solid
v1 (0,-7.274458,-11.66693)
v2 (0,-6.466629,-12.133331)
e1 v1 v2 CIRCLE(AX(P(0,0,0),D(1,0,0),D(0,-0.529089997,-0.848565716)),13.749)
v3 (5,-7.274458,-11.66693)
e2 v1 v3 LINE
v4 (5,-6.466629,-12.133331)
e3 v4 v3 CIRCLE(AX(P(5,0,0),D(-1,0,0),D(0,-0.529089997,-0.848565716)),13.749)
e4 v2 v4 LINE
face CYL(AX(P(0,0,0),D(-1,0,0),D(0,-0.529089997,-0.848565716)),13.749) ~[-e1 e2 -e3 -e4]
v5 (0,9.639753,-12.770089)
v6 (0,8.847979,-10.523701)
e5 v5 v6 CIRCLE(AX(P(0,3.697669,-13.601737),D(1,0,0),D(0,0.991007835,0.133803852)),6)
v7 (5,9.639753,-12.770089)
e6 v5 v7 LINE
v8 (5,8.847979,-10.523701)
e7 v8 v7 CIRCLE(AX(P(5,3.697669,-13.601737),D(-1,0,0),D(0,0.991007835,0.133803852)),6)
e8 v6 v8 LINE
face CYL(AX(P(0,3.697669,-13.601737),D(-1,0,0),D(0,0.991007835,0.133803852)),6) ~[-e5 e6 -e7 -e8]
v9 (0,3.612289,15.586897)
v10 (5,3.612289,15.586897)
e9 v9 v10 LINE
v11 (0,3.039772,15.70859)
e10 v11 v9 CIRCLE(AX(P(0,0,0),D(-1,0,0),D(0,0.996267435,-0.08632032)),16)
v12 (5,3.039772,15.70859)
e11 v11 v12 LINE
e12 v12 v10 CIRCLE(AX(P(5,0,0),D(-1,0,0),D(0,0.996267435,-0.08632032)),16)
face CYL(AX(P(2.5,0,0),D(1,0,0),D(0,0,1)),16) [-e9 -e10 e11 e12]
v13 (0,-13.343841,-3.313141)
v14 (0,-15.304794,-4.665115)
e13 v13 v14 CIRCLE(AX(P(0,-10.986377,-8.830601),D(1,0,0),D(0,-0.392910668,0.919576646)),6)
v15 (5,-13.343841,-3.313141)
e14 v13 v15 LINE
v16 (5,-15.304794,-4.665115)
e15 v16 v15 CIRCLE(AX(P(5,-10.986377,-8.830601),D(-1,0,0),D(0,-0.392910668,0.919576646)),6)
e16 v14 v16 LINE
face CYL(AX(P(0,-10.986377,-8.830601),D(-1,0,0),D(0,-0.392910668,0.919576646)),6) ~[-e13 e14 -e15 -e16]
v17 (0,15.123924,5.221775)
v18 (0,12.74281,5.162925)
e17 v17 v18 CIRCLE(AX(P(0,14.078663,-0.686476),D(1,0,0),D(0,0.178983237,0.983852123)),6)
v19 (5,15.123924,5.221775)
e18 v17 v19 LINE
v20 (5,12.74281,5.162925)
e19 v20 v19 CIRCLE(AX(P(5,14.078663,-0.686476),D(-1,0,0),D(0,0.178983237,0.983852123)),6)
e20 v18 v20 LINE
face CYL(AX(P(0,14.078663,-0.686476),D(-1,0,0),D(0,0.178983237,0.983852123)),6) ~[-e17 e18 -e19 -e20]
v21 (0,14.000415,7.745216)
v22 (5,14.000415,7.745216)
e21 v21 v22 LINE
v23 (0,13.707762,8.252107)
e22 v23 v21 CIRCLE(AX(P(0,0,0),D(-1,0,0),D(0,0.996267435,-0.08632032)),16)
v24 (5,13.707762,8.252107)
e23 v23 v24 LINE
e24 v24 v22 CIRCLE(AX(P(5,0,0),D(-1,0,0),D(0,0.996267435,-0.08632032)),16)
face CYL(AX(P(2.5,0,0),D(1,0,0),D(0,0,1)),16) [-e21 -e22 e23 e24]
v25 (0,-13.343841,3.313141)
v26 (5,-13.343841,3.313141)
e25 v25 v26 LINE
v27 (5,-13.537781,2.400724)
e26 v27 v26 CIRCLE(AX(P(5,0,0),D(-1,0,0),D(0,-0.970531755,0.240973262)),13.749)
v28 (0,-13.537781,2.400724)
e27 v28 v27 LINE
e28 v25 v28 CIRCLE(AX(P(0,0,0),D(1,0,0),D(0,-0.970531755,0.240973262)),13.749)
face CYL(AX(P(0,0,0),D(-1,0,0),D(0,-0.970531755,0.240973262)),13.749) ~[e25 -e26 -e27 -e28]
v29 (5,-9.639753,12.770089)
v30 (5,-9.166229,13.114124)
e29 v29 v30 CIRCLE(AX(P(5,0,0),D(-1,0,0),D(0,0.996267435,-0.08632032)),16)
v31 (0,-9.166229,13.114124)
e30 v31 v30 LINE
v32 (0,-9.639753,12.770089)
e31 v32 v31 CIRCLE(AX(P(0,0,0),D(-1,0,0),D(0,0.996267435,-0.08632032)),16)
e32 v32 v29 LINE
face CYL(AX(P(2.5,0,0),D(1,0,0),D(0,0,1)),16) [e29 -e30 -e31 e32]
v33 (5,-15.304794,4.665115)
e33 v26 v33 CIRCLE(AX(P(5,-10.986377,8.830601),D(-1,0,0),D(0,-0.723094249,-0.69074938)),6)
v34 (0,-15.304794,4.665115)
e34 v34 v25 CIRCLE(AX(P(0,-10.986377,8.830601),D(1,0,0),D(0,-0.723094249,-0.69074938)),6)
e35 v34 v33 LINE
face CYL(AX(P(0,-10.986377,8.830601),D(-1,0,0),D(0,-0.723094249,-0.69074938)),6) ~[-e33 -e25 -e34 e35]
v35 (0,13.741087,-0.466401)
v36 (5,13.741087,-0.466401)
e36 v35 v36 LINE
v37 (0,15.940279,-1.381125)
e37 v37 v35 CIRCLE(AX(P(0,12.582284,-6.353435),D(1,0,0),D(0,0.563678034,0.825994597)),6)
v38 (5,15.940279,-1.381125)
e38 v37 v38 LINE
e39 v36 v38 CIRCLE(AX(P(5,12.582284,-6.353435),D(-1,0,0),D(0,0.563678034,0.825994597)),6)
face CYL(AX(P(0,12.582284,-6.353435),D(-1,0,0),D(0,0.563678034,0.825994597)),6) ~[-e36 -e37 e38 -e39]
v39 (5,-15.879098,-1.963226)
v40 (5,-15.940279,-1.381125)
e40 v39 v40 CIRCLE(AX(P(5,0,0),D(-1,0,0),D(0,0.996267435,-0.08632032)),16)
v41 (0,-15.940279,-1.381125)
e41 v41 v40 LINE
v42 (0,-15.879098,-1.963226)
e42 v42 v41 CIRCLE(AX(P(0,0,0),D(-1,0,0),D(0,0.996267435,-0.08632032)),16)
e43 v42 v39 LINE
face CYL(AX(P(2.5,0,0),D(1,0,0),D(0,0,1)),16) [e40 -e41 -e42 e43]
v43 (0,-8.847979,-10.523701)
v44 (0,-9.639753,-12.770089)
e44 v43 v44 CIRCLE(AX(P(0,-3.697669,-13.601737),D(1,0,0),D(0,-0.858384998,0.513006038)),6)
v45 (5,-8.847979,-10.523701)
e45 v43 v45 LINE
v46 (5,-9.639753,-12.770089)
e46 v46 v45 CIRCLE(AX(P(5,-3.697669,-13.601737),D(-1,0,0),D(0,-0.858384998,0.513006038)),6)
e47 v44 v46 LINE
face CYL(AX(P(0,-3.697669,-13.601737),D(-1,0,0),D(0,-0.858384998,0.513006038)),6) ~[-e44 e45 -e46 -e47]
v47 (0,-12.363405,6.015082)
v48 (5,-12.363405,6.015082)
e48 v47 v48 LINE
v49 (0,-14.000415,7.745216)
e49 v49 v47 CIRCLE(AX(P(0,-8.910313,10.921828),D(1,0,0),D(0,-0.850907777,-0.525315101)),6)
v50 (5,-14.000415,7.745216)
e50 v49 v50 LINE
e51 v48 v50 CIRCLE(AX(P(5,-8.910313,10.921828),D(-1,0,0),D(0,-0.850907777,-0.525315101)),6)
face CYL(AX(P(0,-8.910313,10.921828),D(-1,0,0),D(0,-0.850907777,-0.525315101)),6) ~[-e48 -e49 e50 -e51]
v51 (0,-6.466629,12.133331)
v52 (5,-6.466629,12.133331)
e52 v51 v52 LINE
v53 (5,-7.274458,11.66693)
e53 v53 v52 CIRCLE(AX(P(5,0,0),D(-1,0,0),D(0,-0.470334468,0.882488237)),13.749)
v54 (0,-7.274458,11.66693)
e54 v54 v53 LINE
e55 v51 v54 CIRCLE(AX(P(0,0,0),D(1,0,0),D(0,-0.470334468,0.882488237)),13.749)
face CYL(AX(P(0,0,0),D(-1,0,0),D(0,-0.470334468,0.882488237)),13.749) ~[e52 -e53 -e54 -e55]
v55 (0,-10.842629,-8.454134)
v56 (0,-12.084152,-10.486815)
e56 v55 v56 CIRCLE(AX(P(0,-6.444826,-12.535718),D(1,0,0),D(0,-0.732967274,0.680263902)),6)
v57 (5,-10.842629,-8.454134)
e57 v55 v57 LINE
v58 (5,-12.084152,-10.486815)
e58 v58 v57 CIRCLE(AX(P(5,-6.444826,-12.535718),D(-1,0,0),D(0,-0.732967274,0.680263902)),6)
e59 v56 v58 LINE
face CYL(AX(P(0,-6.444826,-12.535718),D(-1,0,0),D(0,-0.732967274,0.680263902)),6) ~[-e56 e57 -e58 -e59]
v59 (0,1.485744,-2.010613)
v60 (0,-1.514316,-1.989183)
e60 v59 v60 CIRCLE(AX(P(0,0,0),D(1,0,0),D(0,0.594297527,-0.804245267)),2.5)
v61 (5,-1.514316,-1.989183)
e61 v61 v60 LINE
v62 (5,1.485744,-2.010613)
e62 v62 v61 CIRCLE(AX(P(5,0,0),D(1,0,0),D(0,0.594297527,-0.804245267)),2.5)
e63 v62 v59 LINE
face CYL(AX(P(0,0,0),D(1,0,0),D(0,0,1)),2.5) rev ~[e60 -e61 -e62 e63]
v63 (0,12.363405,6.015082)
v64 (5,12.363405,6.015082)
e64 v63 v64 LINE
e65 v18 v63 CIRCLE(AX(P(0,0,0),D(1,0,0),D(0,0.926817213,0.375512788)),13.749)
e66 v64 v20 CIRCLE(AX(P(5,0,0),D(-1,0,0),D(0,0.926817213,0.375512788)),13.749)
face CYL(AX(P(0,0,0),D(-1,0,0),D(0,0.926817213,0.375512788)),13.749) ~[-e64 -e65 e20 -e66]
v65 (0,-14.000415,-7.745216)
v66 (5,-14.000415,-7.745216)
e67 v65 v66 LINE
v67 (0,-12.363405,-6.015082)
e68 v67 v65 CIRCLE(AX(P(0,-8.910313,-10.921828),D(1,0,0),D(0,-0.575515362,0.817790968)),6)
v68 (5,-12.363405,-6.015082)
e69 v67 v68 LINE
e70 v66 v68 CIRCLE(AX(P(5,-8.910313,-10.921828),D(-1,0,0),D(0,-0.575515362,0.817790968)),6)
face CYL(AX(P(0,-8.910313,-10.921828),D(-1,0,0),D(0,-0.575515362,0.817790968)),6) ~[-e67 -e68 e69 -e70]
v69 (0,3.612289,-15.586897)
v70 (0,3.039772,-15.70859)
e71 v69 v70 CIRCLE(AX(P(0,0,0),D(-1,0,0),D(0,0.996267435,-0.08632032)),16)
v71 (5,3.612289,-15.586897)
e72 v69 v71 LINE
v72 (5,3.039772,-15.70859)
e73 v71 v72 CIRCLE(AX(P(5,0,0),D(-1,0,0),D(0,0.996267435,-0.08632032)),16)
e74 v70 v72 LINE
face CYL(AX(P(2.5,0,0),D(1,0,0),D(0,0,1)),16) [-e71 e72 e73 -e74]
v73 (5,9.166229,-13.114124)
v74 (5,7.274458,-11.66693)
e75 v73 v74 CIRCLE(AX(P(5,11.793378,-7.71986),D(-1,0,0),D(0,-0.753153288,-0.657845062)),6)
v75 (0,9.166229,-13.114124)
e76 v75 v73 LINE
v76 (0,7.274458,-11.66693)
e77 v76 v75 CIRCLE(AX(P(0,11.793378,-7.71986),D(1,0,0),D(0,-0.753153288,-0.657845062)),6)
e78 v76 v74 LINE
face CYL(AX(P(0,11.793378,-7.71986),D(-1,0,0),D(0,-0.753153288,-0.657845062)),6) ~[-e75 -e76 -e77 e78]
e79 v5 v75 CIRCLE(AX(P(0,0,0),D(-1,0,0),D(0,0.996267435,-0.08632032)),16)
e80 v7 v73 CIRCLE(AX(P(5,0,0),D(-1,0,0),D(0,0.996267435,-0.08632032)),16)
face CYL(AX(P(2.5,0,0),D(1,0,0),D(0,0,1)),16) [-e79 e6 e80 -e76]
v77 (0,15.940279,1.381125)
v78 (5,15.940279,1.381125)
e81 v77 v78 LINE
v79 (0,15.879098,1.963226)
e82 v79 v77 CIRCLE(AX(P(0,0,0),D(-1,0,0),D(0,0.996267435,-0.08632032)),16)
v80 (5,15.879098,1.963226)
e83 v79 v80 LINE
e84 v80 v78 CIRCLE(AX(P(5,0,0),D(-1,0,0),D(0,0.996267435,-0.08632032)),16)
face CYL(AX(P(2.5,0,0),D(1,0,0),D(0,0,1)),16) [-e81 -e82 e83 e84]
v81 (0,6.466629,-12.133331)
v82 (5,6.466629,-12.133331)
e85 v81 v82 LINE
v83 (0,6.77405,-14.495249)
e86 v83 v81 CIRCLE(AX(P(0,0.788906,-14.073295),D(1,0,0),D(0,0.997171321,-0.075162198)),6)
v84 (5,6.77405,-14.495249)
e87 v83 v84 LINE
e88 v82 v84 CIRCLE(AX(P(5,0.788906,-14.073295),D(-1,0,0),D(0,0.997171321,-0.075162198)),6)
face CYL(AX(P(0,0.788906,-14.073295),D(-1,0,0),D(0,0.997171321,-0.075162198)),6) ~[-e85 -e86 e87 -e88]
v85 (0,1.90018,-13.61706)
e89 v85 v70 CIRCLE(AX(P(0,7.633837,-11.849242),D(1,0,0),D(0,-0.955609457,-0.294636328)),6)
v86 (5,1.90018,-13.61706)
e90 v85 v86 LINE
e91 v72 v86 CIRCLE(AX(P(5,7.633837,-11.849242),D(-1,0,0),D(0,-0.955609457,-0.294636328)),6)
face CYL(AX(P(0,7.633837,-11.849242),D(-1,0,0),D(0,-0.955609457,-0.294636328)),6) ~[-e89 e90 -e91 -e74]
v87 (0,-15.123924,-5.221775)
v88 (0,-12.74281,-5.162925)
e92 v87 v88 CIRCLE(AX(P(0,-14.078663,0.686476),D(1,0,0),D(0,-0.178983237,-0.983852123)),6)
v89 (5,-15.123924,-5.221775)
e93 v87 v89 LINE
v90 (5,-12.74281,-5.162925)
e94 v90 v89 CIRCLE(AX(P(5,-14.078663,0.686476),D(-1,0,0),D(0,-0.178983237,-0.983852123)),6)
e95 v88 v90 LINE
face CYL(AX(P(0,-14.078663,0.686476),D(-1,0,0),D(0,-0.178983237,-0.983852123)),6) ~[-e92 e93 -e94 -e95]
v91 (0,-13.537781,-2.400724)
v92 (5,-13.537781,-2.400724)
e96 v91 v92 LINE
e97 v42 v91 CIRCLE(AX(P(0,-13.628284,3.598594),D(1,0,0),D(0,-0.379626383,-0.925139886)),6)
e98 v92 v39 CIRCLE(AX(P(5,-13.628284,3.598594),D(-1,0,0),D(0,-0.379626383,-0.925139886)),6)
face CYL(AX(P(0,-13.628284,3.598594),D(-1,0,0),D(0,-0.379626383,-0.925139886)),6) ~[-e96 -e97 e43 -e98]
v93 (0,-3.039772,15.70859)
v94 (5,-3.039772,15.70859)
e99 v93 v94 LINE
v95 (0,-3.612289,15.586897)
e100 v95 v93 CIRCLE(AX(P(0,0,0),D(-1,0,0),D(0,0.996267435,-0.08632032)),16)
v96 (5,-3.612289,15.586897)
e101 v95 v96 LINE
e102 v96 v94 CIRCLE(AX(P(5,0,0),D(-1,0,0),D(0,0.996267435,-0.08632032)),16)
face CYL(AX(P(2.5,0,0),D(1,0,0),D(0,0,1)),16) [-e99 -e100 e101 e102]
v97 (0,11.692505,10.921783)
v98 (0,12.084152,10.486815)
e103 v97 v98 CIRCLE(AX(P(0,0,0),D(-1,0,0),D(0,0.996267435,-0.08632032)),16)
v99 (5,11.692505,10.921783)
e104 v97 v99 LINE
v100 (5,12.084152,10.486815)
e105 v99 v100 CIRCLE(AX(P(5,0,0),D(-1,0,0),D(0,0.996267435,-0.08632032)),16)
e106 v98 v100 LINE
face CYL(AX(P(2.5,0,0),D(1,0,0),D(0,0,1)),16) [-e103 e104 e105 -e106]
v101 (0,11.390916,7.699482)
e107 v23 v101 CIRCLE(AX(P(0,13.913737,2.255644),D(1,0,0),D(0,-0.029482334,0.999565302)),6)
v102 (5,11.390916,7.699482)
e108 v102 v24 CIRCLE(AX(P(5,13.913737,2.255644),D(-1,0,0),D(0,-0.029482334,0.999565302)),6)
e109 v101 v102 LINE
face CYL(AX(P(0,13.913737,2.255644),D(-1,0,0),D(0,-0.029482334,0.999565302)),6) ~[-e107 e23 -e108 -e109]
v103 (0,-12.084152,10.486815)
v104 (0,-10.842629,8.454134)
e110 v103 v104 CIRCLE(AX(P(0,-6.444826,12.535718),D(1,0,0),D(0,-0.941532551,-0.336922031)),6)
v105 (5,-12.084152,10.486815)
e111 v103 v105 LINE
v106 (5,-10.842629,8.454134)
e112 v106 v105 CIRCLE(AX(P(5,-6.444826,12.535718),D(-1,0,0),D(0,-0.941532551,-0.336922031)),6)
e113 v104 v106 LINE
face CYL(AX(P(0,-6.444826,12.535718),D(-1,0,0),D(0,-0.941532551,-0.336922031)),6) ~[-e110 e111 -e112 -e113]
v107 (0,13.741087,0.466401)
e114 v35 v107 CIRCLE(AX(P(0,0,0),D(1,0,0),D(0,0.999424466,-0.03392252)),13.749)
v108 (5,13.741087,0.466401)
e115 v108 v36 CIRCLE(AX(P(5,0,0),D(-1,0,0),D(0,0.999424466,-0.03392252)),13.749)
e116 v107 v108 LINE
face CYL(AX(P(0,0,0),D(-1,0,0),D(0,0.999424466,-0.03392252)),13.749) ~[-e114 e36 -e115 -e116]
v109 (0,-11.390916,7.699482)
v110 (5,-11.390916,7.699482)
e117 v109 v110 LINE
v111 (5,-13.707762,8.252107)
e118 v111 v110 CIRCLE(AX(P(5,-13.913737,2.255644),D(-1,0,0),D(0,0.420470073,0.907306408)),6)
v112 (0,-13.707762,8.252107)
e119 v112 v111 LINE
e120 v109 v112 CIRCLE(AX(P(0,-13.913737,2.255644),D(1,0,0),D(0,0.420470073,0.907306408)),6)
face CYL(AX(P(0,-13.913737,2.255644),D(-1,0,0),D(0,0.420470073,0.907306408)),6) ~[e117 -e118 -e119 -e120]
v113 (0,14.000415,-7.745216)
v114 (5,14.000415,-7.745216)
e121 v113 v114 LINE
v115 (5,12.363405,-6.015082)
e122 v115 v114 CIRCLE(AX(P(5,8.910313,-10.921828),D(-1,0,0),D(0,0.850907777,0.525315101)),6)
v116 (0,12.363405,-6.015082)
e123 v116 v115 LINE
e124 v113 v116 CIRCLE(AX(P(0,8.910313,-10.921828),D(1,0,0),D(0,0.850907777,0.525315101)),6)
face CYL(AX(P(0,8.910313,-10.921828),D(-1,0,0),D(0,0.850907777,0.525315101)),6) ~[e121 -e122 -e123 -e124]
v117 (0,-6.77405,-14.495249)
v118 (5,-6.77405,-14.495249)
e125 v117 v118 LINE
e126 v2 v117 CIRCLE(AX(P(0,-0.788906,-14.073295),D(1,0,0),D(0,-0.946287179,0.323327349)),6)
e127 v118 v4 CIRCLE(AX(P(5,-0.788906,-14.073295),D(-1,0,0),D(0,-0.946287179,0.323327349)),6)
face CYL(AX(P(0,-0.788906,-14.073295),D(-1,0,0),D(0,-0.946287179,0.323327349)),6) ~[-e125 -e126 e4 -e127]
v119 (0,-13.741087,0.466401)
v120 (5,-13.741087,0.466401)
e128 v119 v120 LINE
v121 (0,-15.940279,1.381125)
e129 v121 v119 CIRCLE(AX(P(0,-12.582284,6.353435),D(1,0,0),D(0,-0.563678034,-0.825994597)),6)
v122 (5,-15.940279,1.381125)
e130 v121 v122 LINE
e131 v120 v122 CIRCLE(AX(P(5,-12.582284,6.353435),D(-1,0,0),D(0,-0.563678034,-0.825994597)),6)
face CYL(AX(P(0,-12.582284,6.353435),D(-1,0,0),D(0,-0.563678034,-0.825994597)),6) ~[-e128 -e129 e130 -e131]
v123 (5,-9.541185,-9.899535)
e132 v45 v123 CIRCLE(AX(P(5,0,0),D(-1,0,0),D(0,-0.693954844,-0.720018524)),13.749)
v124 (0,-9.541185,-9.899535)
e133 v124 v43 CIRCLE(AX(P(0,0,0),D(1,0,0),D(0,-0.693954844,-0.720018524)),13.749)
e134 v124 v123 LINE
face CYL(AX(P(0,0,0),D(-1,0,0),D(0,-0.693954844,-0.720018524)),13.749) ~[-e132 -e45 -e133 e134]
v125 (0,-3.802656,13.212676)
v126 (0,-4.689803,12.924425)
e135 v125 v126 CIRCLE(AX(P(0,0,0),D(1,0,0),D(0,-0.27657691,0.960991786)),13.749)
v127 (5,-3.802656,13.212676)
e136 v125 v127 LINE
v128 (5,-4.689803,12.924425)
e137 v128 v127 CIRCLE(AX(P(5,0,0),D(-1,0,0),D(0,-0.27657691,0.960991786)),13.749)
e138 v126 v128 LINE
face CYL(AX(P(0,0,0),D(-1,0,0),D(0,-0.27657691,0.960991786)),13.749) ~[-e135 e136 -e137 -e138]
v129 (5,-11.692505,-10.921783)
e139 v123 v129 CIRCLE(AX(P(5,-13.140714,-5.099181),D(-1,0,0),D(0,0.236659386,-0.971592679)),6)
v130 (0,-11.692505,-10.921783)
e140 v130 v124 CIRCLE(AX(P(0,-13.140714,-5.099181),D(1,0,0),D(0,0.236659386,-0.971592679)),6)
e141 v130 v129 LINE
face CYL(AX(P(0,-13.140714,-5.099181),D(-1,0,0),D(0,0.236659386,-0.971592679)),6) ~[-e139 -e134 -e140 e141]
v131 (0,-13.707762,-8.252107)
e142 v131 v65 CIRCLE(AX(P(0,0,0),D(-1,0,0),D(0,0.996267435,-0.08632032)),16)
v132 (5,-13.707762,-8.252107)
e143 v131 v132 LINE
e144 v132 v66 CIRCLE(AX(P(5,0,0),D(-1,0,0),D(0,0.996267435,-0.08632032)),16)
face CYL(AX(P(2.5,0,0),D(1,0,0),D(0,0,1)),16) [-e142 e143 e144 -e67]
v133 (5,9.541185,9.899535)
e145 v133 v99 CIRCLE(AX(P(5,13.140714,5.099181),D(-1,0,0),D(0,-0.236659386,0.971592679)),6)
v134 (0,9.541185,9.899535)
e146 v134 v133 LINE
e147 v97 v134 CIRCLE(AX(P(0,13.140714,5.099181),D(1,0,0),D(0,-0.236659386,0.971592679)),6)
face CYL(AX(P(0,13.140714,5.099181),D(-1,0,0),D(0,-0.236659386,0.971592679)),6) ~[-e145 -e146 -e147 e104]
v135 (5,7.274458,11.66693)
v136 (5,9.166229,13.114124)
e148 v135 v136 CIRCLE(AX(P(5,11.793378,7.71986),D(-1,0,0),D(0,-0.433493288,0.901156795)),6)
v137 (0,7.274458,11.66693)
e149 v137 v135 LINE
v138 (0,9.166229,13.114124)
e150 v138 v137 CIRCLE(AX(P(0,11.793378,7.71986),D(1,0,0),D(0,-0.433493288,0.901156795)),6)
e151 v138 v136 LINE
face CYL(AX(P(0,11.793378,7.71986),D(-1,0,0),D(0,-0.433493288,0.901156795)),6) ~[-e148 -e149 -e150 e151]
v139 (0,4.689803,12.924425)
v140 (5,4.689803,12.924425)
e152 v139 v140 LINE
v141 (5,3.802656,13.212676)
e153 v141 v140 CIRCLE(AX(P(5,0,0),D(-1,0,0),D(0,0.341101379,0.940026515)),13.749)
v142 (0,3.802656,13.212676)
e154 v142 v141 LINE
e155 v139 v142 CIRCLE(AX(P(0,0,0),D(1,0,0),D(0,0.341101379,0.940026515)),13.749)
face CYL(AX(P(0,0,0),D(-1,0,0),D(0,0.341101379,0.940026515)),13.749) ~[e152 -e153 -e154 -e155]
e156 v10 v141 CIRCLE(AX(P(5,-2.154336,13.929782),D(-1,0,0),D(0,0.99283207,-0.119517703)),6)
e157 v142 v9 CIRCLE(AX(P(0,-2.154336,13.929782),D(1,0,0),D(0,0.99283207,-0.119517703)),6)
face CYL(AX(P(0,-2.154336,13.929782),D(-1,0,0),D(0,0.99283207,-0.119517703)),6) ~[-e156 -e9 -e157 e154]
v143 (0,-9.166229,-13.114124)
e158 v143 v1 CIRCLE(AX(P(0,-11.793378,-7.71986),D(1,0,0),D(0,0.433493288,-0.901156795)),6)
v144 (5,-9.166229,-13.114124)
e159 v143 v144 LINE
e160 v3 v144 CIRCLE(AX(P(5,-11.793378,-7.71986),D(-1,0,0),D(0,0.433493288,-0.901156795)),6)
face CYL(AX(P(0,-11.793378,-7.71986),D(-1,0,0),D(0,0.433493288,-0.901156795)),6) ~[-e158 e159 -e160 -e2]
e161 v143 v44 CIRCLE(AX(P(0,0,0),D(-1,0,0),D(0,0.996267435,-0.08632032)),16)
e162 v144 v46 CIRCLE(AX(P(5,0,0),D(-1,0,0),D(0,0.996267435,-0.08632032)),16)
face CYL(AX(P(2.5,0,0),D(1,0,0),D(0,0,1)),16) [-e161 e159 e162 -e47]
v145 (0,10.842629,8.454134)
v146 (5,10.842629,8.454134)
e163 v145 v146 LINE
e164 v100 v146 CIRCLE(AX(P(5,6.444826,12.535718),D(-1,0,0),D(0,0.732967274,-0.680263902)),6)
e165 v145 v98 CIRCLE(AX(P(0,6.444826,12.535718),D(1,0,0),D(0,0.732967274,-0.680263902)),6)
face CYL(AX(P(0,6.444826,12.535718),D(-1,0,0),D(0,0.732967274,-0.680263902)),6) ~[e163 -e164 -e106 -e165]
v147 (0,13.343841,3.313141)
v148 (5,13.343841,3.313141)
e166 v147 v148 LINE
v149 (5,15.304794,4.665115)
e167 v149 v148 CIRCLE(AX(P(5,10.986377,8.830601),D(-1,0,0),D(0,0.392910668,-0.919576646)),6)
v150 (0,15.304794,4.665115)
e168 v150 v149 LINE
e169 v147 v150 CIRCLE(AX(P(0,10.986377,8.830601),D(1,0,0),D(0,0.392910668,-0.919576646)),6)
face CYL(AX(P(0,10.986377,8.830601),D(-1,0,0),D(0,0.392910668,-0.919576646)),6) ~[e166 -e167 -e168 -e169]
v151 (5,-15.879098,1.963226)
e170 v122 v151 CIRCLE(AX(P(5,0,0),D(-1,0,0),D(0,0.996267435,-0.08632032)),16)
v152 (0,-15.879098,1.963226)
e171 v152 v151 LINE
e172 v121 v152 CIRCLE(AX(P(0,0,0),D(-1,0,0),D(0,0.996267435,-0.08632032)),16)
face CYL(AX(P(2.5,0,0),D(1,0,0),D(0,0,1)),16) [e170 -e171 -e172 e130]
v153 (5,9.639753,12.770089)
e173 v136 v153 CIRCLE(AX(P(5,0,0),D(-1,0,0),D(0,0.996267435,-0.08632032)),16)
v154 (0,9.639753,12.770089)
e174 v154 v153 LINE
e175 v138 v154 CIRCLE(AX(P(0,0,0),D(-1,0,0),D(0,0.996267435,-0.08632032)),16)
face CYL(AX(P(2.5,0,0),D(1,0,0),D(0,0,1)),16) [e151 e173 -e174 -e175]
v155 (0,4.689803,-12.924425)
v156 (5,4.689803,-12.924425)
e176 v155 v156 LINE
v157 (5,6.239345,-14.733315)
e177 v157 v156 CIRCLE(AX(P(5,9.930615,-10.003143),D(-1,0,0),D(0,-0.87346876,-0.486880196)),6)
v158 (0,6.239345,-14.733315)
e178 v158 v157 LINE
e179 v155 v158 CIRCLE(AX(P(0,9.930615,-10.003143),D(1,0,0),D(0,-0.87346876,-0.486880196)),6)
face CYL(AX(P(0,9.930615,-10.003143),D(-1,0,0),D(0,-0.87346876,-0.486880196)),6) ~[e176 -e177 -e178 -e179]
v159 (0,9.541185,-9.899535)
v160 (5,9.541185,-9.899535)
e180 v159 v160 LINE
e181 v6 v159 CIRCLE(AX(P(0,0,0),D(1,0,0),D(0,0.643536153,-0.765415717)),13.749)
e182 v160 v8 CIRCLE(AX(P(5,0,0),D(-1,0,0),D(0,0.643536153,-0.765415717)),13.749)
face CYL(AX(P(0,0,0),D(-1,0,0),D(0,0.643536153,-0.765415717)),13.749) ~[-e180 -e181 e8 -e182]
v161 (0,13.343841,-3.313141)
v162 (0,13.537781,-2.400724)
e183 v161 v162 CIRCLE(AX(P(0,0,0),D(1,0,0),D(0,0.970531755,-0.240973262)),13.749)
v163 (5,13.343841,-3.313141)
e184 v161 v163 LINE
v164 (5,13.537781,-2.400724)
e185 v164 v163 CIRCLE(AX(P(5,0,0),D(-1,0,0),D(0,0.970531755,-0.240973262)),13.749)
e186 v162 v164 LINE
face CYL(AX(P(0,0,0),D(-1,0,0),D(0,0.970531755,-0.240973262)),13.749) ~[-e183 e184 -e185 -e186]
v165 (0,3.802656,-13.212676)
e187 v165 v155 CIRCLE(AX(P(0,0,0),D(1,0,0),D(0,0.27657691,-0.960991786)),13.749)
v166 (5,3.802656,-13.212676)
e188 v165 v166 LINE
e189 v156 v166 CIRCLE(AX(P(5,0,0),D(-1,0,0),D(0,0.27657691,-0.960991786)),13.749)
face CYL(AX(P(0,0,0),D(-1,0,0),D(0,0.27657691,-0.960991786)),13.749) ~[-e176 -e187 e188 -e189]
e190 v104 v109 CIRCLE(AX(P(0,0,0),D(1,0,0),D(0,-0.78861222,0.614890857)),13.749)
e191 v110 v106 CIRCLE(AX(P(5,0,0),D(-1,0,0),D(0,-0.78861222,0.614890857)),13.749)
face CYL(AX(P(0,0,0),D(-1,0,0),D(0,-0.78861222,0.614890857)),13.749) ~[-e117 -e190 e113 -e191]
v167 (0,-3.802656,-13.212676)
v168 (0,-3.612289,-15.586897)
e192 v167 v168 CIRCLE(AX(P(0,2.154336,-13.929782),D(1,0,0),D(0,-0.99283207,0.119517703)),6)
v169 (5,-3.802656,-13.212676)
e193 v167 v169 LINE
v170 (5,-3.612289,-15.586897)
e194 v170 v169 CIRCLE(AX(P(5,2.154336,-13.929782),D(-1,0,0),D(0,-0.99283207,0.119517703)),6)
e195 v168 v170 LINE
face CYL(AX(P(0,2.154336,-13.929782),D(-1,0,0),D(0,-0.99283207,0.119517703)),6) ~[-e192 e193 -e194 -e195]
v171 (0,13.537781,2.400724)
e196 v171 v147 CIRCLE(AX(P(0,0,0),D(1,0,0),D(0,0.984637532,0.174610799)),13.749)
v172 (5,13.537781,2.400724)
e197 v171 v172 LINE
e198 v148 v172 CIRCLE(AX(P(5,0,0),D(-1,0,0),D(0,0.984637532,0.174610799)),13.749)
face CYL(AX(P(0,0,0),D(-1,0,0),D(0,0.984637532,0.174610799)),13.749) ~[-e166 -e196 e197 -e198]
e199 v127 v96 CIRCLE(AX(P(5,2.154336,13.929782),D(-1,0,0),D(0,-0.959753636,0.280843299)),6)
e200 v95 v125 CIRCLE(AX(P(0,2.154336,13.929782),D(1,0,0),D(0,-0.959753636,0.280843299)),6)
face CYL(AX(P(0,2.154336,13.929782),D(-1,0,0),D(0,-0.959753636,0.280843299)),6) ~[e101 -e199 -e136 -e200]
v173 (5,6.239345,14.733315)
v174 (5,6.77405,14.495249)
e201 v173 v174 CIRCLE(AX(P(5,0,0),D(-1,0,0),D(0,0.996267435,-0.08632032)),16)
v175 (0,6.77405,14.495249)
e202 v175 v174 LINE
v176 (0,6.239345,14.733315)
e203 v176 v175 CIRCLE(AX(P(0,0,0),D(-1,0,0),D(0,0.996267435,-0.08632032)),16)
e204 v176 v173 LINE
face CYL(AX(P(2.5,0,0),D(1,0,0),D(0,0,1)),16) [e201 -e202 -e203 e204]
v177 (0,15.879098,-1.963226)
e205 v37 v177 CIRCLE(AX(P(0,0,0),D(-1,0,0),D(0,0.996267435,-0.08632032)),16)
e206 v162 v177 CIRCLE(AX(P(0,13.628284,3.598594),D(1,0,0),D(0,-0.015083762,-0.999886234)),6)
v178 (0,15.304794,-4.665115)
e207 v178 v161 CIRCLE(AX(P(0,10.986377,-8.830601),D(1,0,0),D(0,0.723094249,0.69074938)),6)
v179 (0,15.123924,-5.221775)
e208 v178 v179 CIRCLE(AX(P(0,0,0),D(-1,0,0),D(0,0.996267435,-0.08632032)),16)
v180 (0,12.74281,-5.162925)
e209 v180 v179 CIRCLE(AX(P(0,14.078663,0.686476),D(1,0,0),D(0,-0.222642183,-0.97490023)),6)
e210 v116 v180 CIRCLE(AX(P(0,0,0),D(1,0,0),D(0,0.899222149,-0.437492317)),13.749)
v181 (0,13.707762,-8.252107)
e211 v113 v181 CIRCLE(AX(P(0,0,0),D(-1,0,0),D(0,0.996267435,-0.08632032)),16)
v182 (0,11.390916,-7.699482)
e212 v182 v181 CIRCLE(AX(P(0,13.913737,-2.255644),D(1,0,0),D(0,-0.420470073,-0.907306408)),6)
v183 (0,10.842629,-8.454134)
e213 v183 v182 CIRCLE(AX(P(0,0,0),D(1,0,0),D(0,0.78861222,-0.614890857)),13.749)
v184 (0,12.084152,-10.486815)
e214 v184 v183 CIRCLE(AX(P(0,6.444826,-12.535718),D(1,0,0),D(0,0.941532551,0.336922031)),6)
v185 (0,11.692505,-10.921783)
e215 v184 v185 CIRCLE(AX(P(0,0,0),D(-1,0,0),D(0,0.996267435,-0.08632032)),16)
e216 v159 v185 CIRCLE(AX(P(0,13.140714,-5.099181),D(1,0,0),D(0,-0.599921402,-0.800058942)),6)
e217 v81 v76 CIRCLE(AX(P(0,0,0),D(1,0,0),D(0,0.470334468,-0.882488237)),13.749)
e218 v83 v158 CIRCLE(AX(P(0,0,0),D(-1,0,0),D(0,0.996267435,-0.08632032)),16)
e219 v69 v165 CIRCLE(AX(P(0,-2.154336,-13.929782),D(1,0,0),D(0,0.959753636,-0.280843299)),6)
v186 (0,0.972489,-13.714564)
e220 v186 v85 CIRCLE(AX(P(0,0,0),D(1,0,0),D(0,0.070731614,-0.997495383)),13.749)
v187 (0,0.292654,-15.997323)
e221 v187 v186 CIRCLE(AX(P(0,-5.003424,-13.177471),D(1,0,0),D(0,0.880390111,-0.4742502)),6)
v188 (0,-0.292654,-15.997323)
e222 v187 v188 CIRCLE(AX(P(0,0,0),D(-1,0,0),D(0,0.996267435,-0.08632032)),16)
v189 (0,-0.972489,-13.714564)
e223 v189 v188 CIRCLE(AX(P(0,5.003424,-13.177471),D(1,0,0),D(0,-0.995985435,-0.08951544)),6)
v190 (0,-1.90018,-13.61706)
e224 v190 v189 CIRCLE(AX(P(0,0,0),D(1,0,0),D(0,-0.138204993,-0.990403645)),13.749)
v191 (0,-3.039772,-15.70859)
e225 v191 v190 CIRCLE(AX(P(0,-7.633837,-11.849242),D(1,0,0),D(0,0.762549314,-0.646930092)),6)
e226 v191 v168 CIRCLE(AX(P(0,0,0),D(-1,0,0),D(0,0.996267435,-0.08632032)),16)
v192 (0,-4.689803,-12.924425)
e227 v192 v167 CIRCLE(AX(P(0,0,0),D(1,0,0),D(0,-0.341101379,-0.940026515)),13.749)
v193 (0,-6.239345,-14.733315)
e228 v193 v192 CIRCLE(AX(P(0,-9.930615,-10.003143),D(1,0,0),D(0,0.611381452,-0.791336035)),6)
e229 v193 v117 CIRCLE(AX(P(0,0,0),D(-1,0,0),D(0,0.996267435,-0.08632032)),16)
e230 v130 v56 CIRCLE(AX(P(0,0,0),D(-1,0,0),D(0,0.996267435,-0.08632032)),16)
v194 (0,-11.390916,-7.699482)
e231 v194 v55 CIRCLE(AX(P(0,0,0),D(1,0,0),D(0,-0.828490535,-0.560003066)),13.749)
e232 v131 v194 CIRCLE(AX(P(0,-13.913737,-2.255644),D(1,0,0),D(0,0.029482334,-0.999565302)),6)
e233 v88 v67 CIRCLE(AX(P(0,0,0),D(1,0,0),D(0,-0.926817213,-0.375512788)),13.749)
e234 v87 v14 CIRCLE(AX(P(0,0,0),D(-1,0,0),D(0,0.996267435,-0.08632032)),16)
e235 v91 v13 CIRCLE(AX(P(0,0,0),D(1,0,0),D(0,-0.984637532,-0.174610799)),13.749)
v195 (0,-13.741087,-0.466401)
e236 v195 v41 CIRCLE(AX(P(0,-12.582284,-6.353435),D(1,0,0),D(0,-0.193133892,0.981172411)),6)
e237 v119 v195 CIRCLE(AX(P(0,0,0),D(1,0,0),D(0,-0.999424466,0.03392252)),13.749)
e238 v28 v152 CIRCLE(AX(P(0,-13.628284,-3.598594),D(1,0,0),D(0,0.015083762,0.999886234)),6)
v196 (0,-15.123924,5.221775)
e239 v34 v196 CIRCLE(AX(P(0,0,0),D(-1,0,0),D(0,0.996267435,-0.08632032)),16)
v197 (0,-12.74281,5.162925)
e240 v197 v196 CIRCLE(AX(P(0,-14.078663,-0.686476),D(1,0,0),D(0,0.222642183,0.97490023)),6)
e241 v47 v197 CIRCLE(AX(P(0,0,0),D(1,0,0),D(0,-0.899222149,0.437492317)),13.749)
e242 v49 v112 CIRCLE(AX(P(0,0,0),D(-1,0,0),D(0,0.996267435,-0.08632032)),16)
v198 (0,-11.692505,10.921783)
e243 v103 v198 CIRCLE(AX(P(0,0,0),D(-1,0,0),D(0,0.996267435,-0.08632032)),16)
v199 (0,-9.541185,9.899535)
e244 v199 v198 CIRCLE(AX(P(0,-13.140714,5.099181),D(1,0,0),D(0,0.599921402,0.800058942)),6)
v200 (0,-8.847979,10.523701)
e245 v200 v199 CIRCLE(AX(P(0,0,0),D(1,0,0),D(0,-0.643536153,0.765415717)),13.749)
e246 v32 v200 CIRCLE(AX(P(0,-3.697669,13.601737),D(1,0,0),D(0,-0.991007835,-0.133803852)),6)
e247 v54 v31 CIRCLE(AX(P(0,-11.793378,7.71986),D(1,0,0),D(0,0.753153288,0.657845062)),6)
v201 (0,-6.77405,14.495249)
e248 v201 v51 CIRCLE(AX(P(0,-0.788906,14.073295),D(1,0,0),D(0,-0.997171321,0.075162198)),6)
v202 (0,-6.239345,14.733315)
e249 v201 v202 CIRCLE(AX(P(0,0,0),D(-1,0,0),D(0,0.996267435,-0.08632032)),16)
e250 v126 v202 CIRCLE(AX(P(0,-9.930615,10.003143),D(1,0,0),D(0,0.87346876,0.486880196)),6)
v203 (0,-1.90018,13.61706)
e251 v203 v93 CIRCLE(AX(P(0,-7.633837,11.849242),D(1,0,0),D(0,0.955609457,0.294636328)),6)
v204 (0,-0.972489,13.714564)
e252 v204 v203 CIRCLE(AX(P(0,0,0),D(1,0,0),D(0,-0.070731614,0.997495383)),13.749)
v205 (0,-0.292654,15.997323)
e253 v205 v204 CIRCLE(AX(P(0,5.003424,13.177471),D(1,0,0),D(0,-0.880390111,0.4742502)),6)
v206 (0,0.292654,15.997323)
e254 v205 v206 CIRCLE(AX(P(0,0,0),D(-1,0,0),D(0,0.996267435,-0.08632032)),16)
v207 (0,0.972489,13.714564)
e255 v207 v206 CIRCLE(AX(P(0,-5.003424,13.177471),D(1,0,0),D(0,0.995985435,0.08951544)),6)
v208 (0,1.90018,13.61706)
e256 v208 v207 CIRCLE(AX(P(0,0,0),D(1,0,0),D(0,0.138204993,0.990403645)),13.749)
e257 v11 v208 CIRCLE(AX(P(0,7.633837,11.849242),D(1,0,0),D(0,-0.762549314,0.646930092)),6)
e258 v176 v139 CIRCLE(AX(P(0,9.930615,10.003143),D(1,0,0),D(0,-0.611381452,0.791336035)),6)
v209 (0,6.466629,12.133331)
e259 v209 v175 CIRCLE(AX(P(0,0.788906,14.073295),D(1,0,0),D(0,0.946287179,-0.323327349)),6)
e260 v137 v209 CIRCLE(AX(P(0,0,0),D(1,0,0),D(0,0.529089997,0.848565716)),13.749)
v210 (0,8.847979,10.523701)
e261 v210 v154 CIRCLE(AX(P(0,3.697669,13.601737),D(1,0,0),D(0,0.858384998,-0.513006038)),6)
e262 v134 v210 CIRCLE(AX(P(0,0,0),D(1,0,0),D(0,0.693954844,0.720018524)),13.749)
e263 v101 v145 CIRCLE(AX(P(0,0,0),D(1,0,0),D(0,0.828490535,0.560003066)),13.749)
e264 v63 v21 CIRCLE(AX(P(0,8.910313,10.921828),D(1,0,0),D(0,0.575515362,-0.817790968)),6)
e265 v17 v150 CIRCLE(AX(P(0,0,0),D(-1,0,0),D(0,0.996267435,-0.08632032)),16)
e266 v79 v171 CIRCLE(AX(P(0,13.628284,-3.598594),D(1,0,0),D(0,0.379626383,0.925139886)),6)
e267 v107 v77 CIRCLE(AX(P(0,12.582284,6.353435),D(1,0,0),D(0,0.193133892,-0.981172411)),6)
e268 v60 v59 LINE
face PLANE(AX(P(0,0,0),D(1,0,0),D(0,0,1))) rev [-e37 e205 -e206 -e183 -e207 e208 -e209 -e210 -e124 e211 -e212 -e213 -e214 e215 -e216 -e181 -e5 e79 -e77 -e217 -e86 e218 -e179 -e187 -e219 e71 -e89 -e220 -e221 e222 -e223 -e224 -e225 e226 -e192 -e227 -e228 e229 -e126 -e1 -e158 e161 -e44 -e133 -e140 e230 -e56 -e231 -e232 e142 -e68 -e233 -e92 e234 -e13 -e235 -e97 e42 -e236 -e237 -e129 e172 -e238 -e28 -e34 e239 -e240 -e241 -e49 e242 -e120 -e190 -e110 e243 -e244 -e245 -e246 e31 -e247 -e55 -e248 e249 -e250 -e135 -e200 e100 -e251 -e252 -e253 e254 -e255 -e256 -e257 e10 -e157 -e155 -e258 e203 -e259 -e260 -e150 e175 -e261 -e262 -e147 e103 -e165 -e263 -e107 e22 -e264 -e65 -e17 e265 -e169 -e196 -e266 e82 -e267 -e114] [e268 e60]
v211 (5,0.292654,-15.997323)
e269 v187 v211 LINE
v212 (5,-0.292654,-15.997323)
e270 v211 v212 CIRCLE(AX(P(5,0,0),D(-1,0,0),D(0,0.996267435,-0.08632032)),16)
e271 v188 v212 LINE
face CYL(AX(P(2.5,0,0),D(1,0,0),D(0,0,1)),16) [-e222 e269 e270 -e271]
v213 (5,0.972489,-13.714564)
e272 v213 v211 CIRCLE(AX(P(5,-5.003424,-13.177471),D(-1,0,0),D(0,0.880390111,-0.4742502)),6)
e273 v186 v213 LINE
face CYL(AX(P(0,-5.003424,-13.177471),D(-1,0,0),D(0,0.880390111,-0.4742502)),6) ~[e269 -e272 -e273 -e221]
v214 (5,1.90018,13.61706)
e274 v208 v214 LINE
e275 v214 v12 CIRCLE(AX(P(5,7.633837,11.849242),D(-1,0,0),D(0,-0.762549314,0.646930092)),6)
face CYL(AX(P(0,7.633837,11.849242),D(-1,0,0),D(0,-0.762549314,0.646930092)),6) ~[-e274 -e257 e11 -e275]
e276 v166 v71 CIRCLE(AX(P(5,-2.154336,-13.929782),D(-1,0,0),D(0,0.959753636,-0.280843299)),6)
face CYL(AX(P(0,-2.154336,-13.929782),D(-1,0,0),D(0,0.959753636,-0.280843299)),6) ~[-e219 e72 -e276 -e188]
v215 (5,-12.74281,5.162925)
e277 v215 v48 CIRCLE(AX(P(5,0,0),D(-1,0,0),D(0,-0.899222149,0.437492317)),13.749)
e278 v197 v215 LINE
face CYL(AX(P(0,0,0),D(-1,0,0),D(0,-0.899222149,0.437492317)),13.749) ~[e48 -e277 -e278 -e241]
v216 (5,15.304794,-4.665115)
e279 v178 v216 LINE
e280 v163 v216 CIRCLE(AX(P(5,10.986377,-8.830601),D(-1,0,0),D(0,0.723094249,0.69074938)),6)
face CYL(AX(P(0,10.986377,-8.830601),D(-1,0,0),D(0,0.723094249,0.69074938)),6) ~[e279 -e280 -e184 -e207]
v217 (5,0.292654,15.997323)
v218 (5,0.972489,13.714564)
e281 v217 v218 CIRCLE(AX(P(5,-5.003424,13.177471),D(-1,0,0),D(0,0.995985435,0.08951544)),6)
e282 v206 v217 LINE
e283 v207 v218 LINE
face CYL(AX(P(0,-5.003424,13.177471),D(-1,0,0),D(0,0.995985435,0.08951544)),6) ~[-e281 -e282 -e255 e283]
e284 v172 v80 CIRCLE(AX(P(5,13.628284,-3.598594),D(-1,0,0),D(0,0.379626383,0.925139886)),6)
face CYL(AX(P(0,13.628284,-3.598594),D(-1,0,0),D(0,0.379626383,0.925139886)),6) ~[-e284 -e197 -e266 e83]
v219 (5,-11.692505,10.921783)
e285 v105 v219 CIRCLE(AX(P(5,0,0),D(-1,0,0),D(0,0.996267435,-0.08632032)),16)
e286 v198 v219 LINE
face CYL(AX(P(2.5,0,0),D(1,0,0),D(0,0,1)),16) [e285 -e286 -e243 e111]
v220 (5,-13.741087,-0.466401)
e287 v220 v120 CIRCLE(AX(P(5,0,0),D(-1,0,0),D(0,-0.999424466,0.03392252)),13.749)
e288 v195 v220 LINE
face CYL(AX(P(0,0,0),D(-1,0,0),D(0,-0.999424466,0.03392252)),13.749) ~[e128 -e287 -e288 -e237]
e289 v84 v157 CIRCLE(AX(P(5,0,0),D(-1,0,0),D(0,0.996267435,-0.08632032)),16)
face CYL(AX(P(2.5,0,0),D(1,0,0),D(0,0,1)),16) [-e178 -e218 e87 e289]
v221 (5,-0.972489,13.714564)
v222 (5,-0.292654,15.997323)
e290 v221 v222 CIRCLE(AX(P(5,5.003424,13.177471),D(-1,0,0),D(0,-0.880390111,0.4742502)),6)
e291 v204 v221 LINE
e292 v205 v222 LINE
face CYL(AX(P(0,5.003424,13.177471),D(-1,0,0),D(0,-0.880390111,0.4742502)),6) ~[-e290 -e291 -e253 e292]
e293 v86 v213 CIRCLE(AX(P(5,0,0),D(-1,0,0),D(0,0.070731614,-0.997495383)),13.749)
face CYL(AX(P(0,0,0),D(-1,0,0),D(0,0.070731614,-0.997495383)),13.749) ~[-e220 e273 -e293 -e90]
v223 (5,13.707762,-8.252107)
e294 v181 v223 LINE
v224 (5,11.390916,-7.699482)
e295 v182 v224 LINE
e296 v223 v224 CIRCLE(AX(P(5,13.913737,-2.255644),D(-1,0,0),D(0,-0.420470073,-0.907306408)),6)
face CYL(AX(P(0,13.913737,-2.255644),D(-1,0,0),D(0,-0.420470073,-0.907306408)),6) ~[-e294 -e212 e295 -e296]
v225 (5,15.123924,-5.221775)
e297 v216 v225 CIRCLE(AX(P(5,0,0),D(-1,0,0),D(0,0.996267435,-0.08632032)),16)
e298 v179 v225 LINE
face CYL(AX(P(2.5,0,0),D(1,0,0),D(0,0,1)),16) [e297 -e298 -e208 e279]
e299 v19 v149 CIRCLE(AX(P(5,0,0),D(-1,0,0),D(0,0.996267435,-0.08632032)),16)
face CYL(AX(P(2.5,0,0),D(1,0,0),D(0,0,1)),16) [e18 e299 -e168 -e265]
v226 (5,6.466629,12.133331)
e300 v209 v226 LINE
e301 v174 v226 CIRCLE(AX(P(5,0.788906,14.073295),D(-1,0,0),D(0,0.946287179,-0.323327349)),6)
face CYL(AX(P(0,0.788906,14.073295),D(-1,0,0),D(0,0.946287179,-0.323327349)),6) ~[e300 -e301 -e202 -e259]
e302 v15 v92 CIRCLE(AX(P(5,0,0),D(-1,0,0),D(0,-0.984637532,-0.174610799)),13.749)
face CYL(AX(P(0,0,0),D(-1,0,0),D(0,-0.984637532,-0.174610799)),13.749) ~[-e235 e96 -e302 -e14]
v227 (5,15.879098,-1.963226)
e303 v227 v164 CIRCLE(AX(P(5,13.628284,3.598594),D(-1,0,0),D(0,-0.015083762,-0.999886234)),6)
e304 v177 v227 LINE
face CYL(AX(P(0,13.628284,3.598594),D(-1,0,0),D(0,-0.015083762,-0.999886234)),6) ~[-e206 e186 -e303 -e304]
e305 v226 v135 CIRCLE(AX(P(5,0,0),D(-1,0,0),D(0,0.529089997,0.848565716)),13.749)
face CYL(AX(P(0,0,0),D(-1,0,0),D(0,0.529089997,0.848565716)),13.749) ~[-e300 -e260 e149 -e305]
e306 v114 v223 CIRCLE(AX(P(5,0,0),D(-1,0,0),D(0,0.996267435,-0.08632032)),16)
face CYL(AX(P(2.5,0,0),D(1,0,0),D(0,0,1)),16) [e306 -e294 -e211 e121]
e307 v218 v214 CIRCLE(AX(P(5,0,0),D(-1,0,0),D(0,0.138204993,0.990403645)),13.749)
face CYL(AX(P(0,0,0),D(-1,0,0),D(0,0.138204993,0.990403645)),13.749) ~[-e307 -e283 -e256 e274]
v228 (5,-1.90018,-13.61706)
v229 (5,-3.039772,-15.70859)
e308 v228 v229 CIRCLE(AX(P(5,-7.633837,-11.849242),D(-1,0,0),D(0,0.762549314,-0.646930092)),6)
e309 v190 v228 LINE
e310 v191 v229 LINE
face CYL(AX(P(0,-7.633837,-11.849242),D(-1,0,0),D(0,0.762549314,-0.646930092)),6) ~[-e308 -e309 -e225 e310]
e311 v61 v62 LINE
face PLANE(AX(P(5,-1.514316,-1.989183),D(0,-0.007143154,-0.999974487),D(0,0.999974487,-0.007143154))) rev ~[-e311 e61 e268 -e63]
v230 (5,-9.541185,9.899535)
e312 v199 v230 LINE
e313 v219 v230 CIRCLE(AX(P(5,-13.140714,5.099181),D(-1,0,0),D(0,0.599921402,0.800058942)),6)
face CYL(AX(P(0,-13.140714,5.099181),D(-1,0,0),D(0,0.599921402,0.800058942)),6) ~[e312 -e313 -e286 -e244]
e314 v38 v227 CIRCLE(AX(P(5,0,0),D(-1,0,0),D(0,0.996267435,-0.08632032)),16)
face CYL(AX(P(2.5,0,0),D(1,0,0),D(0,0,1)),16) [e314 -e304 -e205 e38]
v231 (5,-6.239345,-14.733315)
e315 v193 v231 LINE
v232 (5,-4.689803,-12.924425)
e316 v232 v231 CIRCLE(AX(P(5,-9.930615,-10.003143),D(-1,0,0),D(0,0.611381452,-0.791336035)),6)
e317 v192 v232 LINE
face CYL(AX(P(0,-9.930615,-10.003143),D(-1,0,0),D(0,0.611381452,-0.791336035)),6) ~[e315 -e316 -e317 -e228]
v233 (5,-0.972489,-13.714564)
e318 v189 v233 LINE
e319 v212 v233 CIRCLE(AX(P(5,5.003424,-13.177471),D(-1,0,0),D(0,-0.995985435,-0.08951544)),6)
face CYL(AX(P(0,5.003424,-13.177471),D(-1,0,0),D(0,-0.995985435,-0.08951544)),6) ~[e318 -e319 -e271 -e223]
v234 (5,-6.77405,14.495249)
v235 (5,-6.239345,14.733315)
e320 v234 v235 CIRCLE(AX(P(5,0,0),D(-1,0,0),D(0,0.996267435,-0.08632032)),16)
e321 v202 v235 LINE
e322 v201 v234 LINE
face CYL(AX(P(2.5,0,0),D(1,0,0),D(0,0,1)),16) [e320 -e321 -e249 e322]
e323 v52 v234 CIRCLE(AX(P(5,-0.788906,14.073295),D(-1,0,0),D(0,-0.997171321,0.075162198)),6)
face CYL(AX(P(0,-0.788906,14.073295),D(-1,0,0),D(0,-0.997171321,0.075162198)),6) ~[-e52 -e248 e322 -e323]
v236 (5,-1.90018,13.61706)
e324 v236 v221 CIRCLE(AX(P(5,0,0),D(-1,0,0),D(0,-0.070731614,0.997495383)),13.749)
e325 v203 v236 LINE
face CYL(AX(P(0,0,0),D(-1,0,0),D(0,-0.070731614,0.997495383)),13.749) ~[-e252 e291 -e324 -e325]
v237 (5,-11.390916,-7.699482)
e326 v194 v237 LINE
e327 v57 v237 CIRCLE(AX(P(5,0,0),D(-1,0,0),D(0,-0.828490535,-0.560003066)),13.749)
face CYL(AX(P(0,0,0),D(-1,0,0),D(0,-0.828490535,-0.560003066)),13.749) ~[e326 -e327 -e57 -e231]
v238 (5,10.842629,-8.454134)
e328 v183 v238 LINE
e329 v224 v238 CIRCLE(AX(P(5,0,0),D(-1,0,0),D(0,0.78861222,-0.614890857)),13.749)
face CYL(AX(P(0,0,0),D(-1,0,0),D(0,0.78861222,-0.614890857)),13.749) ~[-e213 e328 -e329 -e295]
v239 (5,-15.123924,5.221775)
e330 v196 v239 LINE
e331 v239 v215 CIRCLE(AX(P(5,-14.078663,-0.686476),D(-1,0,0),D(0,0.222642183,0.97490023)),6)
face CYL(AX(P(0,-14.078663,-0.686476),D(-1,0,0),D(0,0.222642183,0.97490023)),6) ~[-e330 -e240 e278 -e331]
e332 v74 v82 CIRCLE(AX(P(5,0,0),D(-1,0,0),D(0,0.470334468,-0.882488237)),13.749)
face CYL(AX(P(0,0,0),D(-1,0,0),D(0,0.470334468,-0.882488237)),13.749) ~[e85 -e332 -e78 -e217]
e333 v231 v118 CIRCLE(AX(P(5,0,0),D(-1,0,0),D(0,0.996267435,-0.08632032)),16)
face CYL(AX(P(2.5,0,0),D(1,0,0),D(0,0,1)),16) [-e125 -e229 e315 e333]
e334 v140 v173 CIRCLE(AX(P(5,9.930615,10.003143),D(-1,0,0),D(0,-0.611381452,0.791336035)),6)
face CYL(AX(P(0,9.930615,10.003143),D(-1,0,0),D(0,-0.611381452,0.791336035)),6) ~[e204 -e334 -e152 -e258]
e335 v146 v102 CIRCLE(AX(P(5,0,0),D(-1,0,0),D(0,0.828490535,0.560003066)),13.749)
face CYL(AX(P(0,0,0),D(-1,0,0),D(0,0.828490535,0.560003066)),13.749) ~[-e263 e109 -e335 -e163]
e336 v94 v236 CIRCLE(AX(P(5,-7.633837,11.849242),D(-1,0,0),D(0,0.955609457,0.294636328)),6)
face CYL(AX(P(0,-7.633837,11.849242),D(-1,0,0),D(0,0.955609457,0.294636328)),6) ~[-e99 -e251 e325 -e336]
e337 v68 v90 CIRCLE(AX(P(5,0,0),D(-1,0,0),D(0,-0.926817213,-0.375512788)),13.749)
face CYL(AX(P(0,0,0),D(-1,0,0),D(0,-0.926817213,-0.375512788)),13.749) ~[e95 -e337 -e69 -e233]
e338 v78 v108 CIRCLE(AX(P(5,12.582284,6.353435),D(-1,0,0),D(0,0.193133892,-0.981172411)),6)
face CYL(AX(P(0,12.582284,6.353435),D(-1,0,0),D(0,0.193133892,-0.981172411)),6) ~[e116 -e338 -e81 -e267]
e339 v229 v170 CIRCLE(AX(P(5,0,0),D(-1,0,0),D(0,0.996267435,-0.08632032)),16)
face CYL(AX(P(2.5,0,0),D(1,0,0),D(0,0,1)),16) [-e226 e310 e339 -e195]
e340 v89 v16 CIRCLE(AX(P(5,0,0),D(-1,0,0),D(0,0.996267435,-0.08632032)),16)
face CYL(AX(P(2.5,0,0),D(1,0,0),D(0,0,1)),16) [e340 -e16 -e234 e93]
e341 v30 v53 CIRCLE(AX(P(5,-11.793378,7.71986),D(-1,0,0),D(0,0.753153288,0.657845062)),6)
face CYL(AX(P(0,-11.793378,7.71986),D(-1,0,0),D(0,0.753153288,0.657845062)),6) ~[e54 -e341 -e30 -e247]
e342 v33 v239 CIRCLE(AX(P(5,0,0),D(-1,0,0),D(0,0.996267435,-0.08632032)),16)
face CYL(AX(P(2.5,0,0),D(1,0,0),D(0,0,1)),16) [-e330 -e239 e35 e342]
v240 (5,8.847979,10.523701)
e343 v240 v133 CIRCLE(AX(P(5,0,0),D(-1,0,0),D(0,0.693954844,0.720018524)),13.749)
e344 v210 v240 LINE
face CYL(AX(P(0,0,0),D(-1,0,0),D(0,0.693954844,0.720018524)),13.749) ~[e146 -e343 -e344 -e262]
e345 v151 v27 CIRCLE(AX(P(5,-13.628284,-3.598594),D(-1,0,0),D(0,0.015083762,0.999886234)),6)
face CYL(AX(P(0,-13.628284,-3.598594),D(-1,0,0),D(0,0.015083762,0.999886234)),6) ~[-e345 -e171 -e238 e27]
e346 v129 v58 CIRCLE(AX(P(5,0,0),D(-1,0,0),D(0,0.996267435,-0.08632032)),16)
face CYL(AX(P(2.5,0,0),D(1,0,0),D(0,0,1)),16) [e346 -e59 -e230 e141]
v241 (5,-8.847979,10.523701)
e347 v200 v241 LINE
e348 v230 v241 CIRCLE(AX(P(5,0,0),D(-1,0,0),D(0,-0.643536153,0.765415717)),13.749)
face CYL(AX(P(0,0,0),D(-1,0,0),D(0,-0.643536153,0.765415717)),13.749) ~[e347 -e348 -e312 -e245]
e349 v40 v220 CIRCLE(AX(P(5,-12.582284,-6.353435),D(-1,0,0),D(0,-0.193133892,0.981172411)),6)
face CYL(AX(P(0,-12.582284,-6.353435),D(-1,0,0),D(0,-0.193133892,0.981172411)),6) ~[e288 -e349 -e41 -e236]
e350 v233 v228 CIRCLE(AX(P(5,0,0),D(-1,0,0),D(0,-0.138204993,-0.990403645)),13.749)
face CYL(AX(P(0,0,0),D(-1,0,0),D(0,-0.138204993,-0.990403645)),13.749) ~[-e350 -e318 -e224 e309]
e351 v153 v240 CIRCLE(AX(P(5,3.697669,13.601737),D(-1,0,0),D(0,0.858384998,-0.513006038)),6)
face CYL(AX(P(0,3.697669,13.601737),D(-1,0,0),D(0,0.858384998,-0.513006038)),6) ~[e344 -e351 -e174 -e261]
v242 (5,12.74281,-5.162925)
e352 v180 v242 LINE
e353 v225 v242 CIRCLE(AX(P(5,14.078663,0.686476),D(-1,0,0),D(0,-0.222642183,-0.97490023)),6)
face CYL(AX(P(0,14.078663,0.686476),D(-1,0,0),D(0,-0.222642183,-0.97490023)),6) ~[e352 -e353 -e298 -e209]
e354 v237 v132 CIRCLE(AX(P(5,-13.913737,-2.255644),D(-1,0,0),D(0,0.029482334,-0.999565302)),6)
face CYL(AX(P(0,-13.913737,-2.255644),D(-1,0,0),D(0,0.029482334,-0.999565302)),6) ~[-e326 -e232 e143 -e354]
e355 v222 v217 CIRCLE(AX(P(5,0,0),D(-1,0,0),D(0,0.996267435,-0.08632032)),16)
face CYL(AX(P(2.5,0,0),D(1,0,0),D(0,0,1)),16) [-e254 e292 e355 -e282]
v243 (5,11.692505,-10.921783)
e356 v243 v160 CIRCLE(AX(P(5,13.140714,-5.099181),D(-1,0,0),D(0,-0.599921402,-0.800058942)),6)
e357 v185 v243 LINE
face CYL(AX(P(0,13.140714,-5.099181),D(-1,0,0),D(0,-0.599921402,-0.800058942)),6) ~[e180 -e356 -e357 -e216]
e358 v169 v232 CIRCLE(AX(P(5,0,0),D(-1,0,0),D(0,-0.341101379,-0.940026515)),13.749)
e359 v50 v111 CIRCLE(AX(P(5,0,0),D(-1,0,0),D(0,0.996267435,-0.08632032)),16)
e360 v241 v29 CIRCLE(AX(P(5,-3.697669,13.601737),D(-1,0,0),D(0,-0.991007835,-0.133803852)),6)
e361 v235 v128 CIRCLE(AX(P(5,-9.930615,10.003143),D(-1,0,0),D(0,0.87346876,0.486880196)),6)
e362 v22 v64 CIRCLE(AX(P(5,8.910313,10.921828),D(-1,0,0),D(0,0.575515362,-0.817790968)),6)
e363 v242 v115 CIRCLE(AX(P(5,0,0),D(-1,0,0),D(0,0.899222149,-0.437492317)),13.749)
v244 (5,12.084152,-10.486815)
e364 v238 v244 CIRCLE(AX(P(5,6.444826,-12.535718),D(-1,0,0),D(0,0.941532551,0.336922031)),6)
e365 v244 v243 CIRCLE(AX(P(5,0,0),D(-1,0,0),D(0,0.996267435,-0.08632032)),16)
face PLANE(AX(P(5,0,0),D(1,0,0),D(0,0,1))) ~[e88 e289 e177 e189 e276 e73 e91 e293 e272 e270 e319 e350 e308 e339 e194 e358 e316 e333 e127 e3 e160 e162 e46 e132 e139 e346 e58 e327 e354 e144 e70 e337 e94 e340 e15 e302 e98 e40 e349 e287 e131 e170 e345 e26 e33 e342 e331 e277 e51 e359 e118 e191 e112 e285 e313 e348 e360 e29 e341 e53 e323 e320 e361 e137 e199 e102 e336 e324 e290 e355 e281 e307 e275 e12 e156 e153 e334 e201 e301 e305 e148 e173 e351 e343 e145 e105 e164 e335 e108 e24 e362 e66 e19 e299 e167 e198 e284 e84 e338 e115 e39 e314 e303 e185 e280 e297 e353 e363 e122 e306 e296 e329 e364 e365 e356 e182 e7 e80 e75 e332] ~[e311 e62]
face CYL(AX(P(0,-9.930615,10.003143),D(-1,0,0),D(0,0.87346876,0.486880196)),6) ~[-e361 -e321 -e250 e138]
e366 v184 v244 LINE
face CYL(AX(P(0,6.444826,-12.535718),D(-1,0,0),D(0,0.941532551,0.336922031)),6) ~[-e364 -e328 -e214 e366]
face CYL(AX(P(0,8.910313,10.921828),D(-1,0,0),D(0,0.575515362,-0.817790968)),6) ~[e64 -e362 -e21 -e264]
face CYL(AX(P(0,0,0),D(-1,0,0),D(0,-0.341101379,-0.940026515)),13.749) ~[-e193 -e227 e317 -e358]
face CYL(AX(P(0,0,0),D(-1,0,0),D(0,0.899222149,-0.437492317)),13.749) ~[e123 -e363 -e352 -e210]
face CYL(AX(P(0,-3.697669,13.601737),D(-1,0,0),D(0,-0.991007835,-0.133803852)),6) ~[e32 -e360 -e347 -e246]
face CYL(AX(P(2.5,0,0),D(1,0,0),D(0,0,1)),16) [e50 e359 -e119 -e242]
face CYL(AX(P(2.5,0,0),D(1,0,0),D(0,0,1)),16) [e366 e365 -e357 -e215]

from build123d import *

# Parameters (mm, degrees)
BASPROSKE_W        = 5
BASPROSKE_H        = 16
TOOTHCUT_DEPTH     = 24.173260453
TEETHCUTS_COUNT    = 30
TEETHCUTS_ANGLE    = 348
BORSKE_R           = 2.5
BORE_DEPTH         = 50.0000508
ESQUISSE1_R        = 3.356867485
BOSS_EXTRU_1_DEPTH = 5


with BuildPart() as part:
    # BasProSke → Base-Revolve (revolve)
    with BuildSketch(Plane(origin=(0, 0, 0), x_dir=(1, 0, 0), z_dir=(0, 1, 0)), mode=Mode.PRIVATE) as base_revolve_sk:
        with Locations((2.5, 8)):
            Rectangle(BASPROSKE_W, BASPROSKE_H)
    revolve(base_revolve_sk.sketch.rotate(Axis((-10, 0, 0), (1, 0, 0)), 180), axis=Axis((-10, 0, 0), (1, 0, 0)))

    # TooCutSke → ToothCut (cut, through all)
    with BuildSketch(Plane(origin=(0, 0, 0), x_dir=(0, 0, -1), z_dir=(1, 0, 0))):
        with BuildLine():
            ThreePointArc((0.466400716, 13.741086979), (0, 13.749), (-0.466400716, 13.741086979))
            ThreePointArc((-0.466400716, 13.741086979), (-0.819142092, 14.899954875), (-1.3974676, 15.964351834))
            ThreePointArc((-1.3974676, 15.964351834), (0, 16.0254), (1.3974676, 15.964351834))
            ThreePointArc((1.3974676, 15.964351834), (0.819142092, 14.899954875), (0.466400716, 13.741086979))
        make_face()
    toothcut = extrude(amount=TOOTHCUT_DEPTH, mode=Mode.SUBTRACT)

    # TeethCuts: ToothCut ×30 about axis
    teethcuts_axis = Axis((-10, 0, 0), (1, 0, 0))
    for i in range(1, TEETHCUTS_COUNT):
        add(toothcut.rotate(teethcuts_axis, i * TEETHCUTS_ANGLE / (TEETHCUTS_COUNT - 1)), mode=Mode.SUBTRACT)

    # BorSke → Bore (cut, symmetric)
    with BuildSketch(Plane(origin=(0, 0, 0), x_dir=(0, 0, -1), z_dir=(1, 0, 0))):
        with Locations(Location((0, 0, 0), (0, 0, 180))):
            Circle(BORSKE_R)
    extrude(amount=BORE_DEPTH, both=True, mode=Mode.SUBTRACT)

    # Esquisse1 → Boss.-Extru.1 (add)
    with BuildSketch(Plane(origin=(5, 0, 0), x_dir=(0, 0, -1), z_dir=(1, 0, 0))):
        Circle(ESQUISSE1_R)
        with BuildLine():
            Line((1.989182734, -1.514315704), (2.010613168, 1.485743817))
            ThreePointArc((2.010613168, 1.485743817), (-2.499936218, 0.017857885), (1.989182734, -1.514315704))
        make_face(mode=Mode.SUBTRACT)
    extrude(amount=-BOSS_EXTRU_1_DEPTH)


solid = part.part
